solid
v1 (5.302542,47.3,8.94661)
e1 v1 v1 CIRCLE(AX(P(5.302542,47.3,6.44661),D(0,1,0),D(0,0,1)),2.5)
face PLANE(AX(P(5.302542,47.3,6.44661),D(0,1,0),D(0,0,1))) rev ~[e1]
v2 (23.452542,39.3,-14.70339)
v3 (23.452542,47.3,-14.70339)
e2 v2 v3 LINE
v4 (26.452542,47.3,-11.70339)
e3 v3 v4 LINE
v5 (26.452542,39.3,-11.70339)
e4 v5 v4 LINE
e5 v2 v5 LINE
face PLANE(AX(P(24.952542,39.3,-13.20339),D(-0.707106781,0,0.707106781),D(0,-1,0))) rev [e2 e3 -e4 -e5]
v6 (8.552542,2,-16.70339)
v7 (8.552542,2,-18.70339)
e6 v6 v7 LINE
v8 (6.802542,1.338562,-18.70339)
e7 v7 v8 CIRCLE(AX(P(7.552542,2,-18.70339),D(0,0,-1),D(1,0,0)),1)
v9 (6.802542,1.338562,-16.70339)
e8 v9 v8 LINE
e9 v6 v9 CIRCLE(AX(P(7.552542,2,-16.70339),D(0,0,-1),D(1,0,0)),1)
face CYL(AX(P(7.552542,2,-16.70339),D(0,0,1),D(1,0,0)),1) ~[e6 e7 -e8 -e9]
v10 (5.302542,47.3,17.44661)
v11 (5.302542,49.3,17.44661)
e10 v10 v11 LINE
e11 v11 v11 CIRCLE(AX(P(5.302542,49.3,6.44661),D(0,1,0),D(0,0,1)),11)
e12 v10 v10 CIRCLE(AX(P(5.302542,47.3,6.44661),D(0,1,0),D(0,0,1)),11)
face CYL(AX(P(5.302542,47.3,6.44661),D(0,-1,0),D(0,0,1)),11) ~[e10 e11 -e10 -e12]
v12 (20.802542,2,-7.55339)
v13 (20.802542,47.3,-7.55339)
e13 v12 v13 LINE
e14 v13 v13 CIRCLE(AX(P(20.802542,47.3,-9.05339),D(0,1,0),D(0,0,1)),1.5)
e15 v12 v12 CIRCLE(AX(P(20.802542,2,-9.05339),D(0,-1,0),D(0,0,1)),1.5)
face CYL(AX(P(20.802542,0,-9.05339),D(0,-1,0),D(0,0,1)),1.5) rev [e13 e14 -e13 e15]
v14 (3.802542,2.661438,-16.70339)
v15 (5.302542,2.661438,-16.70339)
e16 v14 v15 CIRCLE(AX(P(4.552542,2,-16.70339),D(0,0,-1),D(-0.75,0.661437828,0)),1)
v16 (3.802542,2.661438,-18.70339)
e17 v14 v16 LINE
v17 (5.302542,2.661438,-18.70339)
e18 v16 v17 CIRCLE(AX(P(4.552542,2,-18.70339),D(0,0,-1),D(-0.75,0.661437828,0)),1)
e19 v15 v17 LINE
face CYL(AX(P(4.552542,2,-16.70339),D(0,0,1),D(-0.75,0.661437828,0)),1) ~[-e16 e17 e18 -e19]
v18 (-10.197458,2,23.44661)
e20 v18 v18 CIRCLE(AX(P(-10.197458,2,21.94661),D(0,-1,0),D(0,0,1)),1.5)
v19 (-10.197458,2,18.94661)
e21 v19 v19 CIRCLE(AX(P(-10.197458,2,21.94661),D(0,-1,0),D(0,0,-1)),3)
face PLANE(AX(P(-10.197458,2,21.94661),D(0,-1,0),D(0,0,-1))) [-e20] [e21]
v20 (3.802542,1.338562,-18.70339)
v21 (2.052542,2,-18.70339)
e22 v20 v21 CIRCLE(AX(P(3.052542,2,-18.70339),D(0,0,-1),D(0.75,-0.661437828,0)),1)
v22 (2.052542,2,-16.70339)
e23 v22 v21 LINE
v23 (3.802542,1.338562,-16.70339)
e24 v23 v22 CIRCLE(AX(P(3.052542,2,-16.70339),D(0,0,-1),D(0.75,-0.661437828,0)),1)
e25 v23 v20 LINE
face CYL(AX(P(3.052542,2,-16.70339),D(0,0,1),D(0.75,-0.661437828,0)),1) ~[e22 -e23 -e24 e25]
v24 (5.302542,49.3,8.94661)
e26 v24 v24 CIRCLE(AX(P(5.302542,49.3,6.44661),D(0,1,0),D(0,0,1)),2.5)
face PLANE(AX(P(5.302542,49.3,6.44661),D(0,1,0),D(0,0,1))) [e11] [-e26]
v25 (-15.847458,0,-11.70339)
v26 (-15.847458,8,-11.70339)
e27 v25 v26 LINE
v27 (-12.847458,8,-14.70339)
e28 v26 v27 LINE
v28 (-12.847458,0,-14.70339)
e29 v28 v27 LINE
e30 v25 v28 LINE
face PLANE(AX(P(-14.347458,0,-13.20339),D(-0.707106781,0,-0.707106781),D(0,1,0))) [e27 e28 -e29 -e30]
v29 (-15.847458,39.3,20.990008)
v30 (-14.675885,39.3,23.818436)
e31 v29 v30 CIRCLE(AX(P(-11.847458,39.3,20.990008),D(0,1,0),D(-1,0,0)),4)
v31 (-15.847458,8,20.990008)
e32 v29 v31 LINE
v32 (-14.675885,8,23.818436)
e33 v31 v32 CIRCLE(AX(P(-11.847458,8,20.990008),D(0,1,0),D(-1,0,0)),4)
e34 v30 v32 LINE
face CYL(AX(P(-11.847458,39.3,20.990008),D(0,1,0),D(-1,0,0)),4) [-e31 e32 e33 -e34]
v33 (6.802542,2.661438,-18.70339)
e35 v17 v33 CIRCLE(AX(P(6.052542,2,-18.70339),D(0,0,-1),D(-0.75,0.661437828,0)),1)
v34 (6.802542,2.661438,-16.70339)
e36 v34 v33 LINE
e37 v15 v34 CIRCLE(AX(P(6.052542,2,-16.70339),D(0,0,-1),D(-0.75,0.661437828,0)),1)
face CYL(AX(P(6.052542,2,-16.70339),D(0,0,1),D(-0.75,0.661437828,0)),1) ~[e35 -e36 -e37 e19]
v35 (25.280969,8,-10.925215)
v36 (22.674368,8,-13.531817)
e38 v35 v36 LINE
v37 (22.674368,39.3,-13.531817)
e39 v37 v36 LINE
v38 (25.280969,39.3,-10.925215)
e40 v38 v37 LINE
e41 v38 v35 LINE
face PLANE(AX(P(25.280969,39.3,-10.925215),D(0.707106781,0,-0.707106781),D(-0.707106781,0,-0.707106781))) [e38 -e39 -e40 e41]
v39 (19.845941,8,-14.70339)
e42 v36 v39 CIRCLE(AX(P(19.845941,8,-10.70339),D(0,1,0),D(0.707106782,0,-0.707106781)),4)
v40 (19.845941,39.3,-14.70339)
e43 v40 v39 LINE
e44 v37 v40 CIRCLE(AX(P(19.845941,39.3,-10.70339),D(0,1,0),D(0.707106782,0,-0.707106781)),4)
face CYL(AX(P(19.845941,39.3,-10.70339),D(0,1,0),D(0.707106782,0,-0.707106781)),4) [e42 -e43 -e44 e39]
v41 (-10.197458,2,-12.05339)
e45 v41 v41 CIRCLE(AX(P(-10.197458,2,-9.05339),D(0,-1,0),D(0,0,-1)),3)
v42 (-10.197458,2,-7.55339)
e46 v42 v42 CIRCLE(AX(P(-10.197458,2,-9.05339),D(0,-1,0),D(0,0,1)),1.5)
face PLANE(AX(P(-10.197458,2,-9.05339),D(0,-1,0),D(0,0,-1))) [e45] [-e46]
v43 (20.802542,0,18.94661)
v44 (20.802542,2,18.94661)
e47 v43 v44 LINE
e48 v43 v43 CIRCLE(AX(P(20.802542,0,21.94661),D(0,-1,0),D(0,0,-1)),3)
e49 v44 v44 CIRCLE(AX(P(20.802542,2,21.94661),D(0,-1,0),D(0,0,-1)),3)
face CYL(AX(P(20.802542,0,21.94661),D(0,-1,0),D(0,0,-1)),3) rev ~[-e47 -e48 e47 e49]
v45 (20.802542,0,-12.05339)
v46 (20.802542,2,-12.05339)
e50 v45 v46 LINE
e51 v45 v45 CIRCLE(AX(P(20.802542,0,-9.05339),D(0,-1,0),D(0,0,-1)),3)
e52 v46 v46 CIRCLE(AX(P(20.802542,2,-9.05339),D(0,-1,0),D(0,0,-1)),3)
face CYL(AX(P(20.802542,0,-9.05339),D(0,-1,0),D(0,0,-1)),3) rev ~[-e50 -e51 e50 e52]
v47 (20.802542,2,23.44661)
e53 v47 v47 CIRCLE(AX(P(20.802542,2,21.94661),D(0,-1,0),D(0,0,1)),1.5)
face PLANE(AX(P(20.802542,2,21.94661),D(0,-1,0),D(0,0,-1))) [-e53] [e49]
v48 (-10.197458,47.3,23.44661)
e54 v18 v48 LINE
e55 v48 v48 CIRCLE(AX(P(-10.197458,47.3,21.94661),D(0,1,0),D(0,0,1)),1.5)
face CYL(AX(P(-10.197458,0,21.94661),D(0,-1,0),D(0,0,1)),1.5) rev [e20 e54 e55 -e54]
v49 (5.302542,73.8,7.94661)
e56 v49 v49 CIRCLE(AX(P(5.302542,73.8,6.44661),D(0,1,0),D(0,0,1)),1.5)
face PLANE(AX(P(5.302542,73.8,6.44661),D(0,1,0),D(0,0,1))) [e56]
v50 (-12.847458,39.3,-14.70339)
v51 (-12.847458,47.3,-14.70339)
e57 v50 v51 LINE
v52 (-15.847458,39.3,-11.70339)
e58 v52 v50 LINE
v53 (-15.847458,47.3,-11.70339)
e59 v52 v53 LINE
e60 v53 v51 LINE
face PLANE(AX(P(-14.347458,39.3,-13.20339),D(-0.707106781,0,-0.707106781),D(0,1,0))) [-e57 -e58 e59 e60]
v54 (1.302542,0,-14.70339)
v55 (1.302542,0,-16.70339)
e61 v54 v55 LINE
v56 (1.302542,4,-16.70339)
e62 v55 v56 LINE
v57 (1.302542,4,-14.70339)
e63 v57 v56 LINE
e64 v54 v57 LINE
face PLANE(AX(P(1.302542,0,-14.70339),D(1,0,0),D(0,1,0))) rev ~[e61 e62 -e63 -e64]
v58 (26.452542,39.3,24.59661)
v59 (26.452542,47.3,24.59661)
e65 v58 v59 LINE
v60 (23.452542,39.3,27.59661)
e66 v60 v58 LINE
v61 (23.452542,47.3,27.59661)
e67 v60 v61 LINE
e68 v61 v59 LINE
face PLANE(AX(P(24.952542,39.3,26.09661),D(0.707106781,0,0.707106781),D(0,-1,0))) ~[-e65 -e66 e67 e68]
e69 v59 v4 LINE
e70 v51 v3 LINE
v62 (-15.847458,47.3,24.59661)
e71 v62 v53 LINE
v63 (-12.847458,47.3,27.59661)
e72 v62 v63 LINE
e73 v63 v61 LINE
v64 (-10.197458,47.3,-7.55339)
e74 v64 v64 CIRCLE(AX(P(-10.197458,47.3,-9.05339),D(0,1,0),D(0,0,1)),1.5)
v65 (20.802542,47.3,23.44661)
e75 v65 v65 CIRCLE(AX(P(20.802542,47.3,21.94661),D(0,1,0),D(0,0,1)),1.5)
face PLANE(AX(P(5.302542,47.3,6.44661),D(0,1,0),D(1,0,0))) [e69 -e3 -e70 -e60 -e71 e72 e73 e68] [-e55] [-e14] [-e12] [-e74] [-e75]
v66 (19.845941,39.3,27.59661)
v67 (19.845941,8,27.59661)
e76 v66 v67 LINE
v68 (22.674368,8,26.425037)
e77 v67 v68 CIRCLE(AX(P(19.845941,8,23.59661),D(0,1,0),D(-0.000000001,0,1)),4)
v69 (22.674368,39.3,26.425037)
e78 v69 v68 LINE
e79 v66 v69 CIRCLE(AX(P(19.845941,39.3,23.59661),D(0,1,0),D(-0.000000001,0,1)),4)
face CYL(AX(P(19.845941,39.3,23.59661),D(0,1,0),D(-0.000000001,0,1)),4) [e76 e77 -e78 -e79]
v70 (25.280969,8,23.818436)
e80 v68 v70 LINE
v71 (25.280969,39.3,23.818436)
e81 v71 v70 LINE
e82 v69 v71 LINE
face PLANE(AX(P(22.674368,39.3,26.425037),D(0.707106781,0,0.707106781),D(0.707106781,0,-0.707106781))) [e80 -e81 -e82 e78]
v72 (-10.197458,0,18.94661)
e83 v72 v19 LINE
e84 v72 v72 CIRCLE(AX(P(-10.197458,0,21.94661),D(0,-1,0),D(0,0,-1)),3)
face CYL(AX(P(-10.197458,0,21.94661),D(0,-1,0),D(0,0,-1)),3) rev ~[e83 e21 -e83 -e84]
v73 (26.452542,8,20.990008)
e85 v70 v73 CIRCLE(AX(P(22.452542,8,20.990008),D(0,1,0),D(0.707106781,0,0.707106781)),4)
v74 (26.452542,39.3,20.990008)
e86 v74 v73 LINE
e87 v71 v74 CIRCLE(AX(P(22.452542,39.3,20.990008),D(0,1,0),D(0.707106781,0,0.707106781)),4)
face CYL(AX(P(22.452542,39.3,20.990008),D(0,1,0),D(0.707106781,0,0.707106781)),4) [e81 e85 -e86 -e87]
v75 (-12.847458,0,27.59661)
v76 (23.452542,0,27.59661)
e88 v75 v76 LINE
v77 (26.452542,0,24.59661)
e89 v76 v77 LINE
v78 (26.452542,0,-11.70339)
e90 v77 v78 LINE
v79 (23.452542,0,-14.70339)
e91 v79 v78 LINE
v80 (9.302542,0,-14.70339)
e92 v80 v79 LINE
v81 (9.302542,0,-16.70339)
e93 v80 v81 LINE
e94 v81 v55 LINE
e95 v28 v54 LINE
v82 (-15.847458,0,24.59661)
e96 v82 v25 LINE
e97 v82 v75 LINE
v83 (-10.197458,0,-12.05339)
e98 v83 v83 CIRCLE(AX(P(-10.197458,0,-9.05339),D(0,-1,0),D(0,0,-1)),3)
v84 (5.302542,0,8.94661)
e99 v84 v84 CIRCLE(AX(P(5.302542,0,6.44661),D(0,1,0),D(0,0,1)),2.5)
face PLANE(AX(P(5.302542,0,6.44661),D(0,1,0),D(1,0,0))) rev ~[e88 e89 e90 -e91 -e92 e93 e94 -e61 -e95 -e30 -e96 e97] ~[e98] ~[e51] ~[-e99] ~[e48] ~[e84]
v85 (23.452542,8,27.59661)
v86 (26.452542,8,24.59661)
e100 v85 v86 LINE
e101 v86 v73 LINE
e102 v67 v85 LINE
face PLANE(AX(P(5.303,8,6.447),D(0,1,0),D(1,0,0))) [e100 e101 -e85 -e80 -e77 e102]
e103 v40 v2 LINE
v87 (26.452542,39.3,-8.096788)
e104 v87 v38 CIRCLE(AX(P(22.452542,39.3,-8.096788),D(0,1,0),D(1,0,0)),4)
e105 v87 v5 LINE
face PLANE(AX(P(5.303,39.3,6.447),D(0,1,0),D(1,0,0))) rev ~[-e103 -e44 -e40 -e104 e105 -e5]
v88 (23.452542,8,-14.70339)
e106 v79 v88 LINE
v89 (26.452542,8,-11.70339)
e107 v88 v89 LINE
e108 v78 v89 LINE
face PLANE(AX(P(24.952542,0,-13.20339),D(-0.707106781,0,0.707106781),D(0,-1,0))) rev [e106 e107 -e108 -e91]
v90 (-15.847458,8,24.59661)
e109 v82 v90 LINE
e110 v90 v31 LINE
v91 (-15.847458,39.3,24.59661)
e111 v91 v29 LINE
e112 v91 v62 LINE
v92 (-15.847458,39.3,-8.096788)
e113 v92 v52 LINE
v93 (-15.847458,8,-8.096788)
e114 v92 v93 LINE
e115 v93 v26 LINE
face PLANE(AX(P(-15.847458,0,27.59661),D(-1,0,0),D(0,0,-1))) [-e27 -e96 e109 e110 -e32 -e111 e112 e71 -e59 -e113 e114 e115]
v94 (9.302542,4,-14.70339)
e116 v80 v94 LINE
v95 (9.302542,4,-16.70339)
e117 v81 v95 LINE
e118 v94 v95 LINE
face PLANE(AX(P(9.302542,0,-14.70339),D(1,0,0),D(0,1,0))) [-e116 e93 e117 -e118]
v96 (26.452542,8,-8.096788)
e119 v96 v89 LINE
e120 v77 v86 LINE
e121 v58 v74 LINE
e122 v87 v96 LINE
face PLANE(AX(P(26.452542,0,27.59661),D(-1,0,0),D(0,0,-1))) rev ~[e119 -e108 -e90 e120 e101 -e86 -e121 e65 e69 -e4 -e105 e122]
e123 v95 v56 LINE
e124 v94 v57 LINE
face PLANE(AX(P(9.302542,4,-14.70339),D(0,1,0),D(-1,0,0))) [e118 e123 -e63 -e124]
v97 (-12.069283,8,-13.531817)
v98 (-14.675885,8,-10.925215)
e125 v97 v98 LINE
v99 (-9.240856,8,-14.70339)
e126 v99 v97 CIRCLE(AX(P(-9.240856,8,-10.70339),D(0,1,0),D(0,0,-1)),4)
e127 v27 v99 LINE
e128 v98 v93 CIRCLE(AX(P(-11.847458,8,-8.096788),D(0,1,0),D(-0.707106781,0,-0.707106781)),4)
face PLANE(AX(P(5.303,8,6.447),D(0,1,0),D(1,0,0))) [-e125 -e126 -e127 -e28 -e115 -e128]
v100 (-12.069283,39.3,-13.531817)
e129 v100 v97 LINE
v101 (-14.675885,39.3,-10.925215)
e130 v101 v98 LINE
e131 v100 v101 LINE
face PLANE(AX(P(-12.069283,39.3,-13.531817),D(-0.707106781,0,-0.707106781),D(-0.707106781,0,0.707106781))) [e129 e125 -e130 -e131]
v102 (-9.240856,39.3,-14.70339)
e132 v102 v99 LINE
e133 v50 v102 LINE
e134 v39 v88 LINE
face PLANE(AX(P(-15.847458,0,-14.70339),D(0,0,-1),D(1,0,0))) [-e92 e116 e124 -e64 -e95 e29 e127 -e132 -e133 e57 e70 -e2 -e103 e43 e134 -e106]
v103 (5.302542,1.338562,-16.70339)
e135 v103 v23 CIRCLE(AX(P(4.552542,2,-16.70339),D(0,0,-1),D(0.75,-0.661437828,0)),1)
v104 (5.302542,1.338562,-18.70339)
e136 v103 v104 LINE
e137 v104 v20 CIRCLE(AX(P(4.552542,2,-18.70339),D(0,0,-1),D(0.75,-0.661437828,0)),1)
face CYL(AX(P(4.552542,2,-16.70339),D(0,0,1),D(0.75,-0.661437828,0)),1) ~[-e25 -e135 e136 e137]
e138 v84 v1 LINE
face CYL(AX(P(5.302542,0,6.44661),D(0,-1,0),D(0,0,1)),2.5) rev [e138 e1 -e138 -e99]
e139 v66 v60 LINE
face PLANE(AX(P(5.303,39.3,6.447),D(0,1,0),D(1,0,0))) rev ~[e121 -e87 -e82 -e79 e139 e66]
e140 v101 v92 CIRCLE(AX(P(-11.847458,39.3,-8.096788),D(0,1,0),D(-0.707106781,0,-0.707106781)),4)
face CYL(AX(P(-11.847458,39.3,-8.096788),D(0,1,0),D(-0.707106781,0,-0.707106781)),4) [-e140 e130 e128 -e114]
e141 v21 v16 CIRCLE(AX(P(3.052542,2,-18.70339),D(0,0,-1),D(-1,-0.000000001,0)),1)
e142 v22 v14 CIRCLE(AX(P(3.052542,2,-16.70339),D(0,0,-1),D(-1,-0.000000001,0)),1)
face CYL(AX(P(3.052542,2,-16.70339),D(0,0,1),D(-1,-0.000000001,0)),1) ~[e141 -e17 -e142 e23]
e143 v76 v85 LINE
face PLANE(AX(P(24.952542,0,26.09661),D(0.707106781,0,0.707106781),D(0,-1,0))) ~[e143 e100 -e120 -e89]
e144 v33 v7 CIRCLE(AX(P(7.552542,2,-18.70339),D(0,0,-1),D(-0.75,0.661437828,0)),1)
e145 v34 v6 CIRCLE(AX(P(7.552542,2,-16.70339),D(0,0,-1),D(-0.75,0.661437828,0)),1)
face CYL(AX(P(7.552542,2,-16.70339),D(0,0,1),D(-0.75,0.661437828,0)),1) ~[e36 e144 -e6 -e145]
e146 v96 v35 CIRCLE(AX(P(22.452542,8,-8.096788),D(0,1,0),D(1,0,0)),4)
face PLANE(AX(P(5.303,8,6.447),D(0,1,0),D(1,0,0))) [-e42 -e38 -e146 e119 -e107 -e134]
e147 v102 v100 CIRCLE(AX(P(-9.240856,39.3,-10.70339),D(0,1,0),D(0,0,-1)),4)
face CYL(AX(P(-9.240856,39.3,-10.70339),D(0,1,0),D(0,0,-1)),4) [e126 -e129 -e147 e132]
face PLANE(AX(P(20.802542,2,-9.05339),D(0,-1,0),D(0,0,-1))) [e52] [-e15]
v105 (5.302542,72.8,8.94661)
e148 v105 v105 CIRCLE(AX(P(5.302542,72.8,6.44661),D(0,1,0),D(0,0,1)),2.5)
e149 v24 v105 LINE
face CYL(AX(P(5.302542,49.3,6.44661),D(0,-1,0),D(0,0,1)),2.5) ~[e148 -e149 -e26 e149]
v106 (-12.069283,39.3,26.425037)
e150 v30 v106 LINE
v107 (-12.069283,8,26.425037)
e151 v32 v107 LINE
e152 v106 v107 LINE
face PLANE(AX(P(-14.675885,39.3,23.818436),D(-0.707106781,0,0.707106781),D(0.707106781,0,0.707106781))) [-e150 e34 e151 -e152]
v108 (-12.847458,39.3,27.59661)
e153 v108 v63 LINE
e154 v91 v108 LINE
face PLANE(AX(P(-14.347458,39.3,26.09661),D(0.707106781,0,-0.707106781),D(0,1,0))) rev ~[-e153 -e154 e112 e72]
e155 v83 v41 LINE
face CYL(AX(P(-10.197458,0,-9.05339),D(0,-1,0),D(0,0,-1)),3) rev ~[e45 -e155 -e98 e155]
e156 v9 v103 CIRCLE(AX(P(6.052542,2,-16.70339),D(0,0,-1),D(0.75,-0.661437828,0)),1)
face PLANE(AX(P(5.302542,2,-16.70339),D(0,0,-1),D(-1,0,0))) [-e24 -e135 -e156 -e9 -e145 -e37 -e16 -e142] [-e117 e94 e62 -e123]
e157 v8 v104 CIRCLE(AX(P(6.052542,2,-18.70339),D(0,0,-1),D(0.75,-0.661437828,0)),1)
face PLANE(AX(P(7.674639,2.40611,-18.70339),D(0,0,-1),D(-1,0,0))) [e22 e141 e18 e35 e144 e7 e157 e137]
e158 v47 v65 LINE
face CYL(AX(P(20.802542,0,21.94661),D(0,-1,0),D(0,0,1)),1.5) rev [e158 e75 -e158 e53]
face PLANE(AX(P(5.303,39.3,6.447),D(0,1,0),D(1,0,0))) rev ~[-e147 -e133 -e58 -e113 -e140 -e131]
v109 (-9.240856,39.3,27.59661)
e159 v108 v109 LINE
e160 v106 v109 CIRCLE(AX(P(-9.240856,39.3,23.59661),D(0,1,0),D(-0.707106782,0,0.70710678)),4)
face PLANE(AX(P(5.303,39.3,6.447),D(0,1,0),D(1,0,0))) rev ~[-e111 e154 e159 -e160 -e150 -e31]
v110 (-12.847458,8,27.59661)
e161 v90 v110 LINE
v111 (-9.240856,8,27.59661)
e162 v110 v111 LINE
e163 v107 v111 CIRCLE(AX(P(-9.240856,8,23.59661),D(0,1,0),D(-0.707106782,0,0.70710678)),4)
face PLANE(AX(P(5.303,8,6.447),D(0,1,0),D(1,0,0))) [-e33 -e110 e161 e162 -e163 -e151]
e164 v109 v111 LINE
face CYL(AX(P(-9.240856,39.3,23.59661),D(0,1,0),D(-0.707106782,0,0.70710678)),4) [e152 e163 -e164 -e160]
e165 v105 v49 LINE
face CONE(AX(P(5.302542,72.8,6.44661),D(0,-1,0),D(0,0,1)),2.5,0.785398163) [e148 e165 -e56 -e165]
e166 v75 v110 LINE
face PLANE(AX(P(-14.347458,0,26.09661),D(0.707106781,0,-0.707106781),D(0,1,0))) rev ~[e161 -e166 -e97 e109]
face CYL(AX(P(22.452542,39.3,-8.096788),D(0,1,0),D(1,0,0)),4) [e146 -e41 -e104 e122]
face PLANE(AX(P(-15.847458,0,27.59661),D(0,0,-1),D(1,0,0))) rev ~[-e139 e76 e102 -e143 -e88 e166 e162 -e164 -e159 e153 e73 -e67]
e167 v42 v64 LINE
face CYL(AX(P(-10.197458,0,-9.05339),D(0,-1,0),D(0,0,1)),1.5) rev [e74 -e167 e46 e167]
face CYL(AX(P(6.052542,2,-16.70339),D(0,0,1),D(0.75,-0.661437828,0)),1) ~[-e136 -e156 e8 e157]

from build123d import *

# Parameters (mm, degrees)
ESQUISSE1_W             = 42.3
ESQUISSE1_H             = 42.3
ESQUISSE1_R             = 2.5
ESQUISSE1_R_2           = 1.5
BOSS_EXTRU_1_DEPTH      = 47.3
ESQUISSE2_R             = 11
BOSS_EXTRU_2_DEPTH      = 2
ESQUISSE3_R             = 2.5
BOSS_EXTRU_3_DEPTH      = 24.5
CHANFREIN1_SIZE         = 1
ENL_V_START             = -8
ESQUISSE4_OUTSIDE_W     = 63.3
ESQUISSE4_OUTSIDE_H     = 63.3
ENL_V_MAT_EXTRU_1_DEPTH = 31.3
CHANFREIN2_SIZE         = 3
ESQUISSE5_R             = 3
ENL_V_MAT_EXTRU_2_DEPTH = 2
ESQUISSE6_W             = 8
ESQUISSE6_H             = 4
BOSS_EXTRU_4_DEPTH      = 2
BOSS_EXTRU_6_DEPTH      = 2


with BuildPart() as part:
    # Esquisse1 → Boss.-Extru.1 (new body)
    with BuildSketch(Plane(origin=(0, 0, 0), x_dir=(1, 0, 0), z_dir=(0, 1, 0))):
        with Locations((5.302542373, -6.446610169)):
            Rectangle(ESQUISSE1_W, ESQUISSE1_H)
        with Locations(Location((5.302542373, -6.446610169, 0), (0, 0, 270))):
            Circle(ESQUISSE1_R, mode=Mode.SUBTRACT)
        with Locations(Location((-10.197457627, 9.053389831, 0), (0, 0, 270))):
            Circle(ESQUISSE1_R_2, mode=Mode.SUBTRACT)
        with Locations(Location((20.802542373, 9.053389831, 0), (0, 0, 270))):
            Circle(ESQUISSE1_R_2, mode=Mode.SUBTRACT)
        with Locations(Location((20.802542373, -21.946610169, 0), (0, 0, 270))):
            Circle(ESQUISSE1_R_2, mode=Mode.SUBTRACT)
        with Locations(Location((-10.197457627, -21.946610169, 0), (0, 0, 270))):
            Circle(ESQUISSE1_R_2, mode=Mode.SUBTRACT)
    extrude(amount=BOSS_EXTRU_1_DEPTH)

    # Esquisse2 → Boss.-Extru.2 (add)
    with BuildSketch(Plane(origin=(0, 47.3, 0), x_dir=(1, 0, 0), z_dir=(0, 1, 0))):
        with Locations(Location((5.302542373, -6.446610169, 0), (0, 0, 270))):
            Circle(ESQUISSE2_R)
    extrude(amount=BOSS_EXTRU_2_DEPTH)

    # Esquisse3 → Boss.-Extru.3 (add)
    with BuildSketch(Plane(origin=(0, 49.3, 0), x_dir=(1, 0, 0), z_dir=(0, 1, 0))):
        with Locations(Location((5.302542373, -6.446610169, 0), (0, 0, 270))):
            Circle(ESQUISSE3_R)
    extrude(amount=BOSS_EXTRU_3_DEPTH)

    # Chanfrein1
    chanfrein1_edges = [part.edges().sort_by_distance(p)[0] for p in [
        (5.302542373, 73.8, 3.946610169),
    ]]
    chamfer(chanfrein1_edges, length=CHANFREIN1_SIZE)

    # Esquisse4 outside → Enlèv. mat.-Extru.1 (cut)
    with BuildSketch(Plane(origin=(0, 47.3, 0), x_dir=(1, 0, 0), z_dir=(0, 1, 0)).offset(ENL_V_START)):
        with Locations((5.303, -6.447)):
            Rectangle(ESQUISSE4_OUTSIDE_W, ESQUISSE4_OUTSIDE_H)
        with BuildLine():
            Line((-14.675884752, -23.818435576), (-12.069283034, -26.425037294))
            ThreePointArc((-12.069283034, -26.425037294), (-10.771589639, -27.2921283), (-9.240855909, -27.596610169))
            Line((-9.240855909, -27.596610169), (19.845940655, -27.596610169))
            ThreePointArc((19.845940655, -27.596610169), (21.376674385, -27.2921283), (22.67436778, -26.425037294))
            Line((22.67436778, -26.425037294), (25.280969498, -23.818435576))
            ThreePointArc((25.280969498, -23.818435576), (26.148060503, -22.520742181), (26.452542373, -20.990008452))
            Line((26.452542373, -20.990008452), (26.452542373, 8.096788113))
            ThreePointArc((26.452542373, 8.096788113), (26.148060503, 9.627521842), (25.280969498, 10.925215237))
            Line((25.280969498, 10.925215237), (22.67436778, 13.531816955))
            ThreePointArc((22.67436778, 13.531816955), (21.376674385, 14.398907961), (19.845940655, 14.703389831))
            Line((19.845940655, 14.703389831), (-9.240855909, 14.703389831))
            ThreePointArc((-9.240855909, 14.703389831), (-10.771589639, 14.398907961), (-12.069283034, 13.531816955))
            Line((-12.069283034, 13.531816955), (-14.675884752, 10.925215237))
            ThreePointArc((-14.675884752, 10.925215237), (-15.542975757, 9.627521842), (-15.847457627, 8.096788113))
            Line((-15.847457627, 8.096788113), (-15.847457627, -20.990008452))
            ThreePointArc((-15.847457627, -20.990008452), (-15.542975757, -22.520742181), (-14.675884752, -23.818435576))
        make_face(mode=Mode.SUBTRACT)
    extrude(amount=-ENL_V_MAT_EXTRU_1_DEPTH, mode=Mode.SUBTRACT)

    # Chanfrein2
    chanfrein2_edges = [part.edges().sort_by_distance(p)[0] for p in [
        (-15.847457627, 4, -14.703389831),
        (26.452542373, 4, -14.703389831),
        (26.452542373, 4, 27.596610169),
        (-15.847457627, 4, 27.596610169),
        (-15.847457627, 43.3, -14.703389831),
        (26.452542373, 43.3, -14.703389831),
        (26.452542373, 43.3, 27.596610169),
        (-15.847457627, 43.3, 27.596610169),
    ]]
    chamfer(chanfrein2_edges, length=CHANFREIN2_SIZE)

    # Esquisse5 → Enlèv. mat.-Extru.2 (cut)
    with BuildSketch(Plane.XZ):
        with Locations(Location((-10.197457627, -9.053389831, 0), (0, 0, 270))):
            Circle(ESQUISSE5_R)
        with Locations(Location((-10.197457627, 21.946610169, 0), (0, 0, 270))):
            Circle(ESQUISSE5_R)
        with Locations(Location((20.802542373, 21.946610169, 0), (0, 0, 270))):
            Circle(ESQUISSE5_R)
        with Locations(Location((20.802542373, -9.053389831, 0), (0, 0, 270))):
            Circle(ESQUISSE5_R)
    extrude(amount=-ENL_V_MAT_EXTRU_2_DEPTH, mode=Mode.SUBTRACT)

    # Esquisse6 → Boss.-Extru.4 (add)
    with BuildSketch(Plane(origin=(0, 0, -14.703389831), x_dir=(-1, 0, 0), z_dir=(0, 0, -1))):
        with Locations((-5.302542373, 2)):
            Rectangle(ESQUISSE6_W, ESQUISSE6_H)
    extrude(amount=BOSS_EXTRU_4_DEPTH)

    # Esquisse7 → Boss.-Extru.6 (add)
    with BuildSketch(Plane(origin=(0, 0, -16.703389831), x_dir=(-1, 0, 0), z_dir=(0, 0, -1))):
        with BuildLine():
            ThreePointArc((-7.052542373, 2), (-6.98795672, 2.353553391), (-6.802542373, 2.661437828))
            ThreePointArc((-6.802542373, 2.661437828), (-7.906095763, 2.935414347), (-8.552542373, 2))
            Line((-8.552542373, 2), (-7.052542373, 2))
        make_face()
        with BuildLine():
            ThreePointArc((-6.552542373, 2), (-6.617128026, 2.353553391), (-6.802542373, 2.661437828))
            ThreePointArc((-6.802542373, 2.661437828), (-6.98795672, 2.353553391), (-7.052542373, 2))
            Line((-7.052542373, 2), (-6.552542373, 2))
        make_face()
        with BuildLine():
            ThreePointArc((-7.052542373, 2), (-6.98795672, 1.646446609), (-6.802542373, 1.338562172))
            ThreePointArc((-6.802542373, 1.338562172), (-6.617128026, 1.646446609), (-6.552542373, 2))
            Line((-6.552542373, 2), (-7.052542373, 2))
        make_face()
        with BuildLine():
            ThreePointArc((-8.552542373, 2), (-7.906095763, 1.064585653), (-6.802542373, 1.338562172))
            ThreePointArc((-6.802542373, 1.338562172), (-6.98795672, 1.646446609), (-7.052542373, 2))
            Line((-7.052542373, 2), (-8.552542373, 2))
        make_face()
        with BuildLine():
            ThreePointArc((-5.552542373, 2), (-5.48795672, 2.353553391), (-5.302542373, 2.661437828))
            ThreePointArc((-5.302542373, 2.661437828), (-6.052542373, 3), (-6.802542373, 2.661437828))
            ThreePointArc((-6.802542373, 2.661437828), (-6.617128026, 2.353553391), (-6.552542373, 2))
            Line((-6.552542373, 2), (-5.552542373, 2))
        make_face()
        with BuildLine():
            ThreePointArc((-6.802542373, 1.338562172), (-6.052542373, 1), (-5.302542373, 1.338562172))
            ThreePointArc((-5.302542373, 1.338562172), (-5.48795672, 1.646446609), (-5.552542373, 2))
            Line((-5.552542373, 2), (-6.552542373, 2))
            ThreePointArc((-6.552542373, 2), (-6.617128026, 1.646446609), (-6.802542373, 1.338562172))
        make_face()
        with BuildLine():
            ThreePointArc((-3.802542373, 1.338562172), (-3.98795672, 1.646446609), (-4.052542373, 2))
            Line((-4.052542373, 2), (-5.052542373, 2))
            ThreePointArc((-5.052542373, 2), (-5.117128026, 1.646446609), (-5.302542373, 1.338562172))
            ThreePointArc((-5.302542373, 1.338562172), (-4.552542373, 1), (-3.802542373, 1.338562172))
        make_face()
        with BuildLine():
            Line((-5.052542373, 2), (-4.052542373, 2))
            ThreePointArc((-4.052542373, 2), (-3.98795672, 2.353553391), (-3.802542373, 2.661437828))
            ThreePointArc((-3.802542373, 2.661437828), (-4.552542373, 3), (-5.302542373, 2.661437828))
            ThreePointArc((-5.302542373, 2.661437828), (-5.117128026, 2.353553391), (-5.052542373, 2))
        make_face()
        with BuildLine():
            ThreePointArc((-3.802542373, 2.661437828), (-3.617128026, 2.353553391), (-3.552542373, 2))
            Line((-3.552542373, 2), (-2.052542373, 2))
            ThreePointArc((-2.052542373, 2), (-2.698988982, 2.935414347), (-3.802542373, 2.661437828))
        make_face()
        with BuildLine():
            ThreePointArc((-3.802542373, 1.338562172), (-3.617128026, 1.646446609), (-3.552542373, 2))
            Line((-3.552542373, 2), (-4.052542373, 2))
            ThreePointArc((-4.052542373, 2), (-3.98795672, 1.646446609), (-3.802542373, 1.338562172))
        make_face()
        with BuildLine():
            Line((-4.052542373, 2), (-3.552542373, 2))
            ThreePointArc((-3.552542373, 2), (-3.617128026, 2.353553391), (-3.802542373, 2.661437828))
            ThreePointArc((-3.802542373, 2.661437828), (-3.98795672, 2.353553391), (-4.052542373, 2))
        make_face()
        with BuildLine():
            Line((-2.052542373, 2), (-3.552542373, 2))
            ThreePointArc((-3.552542373, 2), (-3.617128026, 1.646446609), (-3.802542373, 1.338562172))
            ThreePointArc((-3.802542373, 1.338562172), (-2.698988982, 1.064585653), (-2.052542373, 2))
        make_face()
        with BuildLine():
            ThreePointArc((-5.302542373, 1.338562172), (-5.117128026, 1.646446609), (-5.052542373, 2))
            Line((-5.052542373, 2), (-5.552542373, 2))
            ThreePointArc((-5.552542373, 2), (-5.48795672, 1.646446609), (-5.302542373, 1.338562172))
        make_face()
        with BuildLine():
            Line((-5.552542373, 2), (-5.052542373, 2))
            ThreePointArc((-5.052542373, 2), (-5.117128026, 2.353553391), (-5.302542373, 2.661437828))
            ThreePointArc((-5.302542373, 2.661437828), (-5.48795672, 2.353553391), (-5.552542373, 2))
        make_face()
    extrude(amount=BOSS_EXTRU_6_DEPTH)


solid = part.part
